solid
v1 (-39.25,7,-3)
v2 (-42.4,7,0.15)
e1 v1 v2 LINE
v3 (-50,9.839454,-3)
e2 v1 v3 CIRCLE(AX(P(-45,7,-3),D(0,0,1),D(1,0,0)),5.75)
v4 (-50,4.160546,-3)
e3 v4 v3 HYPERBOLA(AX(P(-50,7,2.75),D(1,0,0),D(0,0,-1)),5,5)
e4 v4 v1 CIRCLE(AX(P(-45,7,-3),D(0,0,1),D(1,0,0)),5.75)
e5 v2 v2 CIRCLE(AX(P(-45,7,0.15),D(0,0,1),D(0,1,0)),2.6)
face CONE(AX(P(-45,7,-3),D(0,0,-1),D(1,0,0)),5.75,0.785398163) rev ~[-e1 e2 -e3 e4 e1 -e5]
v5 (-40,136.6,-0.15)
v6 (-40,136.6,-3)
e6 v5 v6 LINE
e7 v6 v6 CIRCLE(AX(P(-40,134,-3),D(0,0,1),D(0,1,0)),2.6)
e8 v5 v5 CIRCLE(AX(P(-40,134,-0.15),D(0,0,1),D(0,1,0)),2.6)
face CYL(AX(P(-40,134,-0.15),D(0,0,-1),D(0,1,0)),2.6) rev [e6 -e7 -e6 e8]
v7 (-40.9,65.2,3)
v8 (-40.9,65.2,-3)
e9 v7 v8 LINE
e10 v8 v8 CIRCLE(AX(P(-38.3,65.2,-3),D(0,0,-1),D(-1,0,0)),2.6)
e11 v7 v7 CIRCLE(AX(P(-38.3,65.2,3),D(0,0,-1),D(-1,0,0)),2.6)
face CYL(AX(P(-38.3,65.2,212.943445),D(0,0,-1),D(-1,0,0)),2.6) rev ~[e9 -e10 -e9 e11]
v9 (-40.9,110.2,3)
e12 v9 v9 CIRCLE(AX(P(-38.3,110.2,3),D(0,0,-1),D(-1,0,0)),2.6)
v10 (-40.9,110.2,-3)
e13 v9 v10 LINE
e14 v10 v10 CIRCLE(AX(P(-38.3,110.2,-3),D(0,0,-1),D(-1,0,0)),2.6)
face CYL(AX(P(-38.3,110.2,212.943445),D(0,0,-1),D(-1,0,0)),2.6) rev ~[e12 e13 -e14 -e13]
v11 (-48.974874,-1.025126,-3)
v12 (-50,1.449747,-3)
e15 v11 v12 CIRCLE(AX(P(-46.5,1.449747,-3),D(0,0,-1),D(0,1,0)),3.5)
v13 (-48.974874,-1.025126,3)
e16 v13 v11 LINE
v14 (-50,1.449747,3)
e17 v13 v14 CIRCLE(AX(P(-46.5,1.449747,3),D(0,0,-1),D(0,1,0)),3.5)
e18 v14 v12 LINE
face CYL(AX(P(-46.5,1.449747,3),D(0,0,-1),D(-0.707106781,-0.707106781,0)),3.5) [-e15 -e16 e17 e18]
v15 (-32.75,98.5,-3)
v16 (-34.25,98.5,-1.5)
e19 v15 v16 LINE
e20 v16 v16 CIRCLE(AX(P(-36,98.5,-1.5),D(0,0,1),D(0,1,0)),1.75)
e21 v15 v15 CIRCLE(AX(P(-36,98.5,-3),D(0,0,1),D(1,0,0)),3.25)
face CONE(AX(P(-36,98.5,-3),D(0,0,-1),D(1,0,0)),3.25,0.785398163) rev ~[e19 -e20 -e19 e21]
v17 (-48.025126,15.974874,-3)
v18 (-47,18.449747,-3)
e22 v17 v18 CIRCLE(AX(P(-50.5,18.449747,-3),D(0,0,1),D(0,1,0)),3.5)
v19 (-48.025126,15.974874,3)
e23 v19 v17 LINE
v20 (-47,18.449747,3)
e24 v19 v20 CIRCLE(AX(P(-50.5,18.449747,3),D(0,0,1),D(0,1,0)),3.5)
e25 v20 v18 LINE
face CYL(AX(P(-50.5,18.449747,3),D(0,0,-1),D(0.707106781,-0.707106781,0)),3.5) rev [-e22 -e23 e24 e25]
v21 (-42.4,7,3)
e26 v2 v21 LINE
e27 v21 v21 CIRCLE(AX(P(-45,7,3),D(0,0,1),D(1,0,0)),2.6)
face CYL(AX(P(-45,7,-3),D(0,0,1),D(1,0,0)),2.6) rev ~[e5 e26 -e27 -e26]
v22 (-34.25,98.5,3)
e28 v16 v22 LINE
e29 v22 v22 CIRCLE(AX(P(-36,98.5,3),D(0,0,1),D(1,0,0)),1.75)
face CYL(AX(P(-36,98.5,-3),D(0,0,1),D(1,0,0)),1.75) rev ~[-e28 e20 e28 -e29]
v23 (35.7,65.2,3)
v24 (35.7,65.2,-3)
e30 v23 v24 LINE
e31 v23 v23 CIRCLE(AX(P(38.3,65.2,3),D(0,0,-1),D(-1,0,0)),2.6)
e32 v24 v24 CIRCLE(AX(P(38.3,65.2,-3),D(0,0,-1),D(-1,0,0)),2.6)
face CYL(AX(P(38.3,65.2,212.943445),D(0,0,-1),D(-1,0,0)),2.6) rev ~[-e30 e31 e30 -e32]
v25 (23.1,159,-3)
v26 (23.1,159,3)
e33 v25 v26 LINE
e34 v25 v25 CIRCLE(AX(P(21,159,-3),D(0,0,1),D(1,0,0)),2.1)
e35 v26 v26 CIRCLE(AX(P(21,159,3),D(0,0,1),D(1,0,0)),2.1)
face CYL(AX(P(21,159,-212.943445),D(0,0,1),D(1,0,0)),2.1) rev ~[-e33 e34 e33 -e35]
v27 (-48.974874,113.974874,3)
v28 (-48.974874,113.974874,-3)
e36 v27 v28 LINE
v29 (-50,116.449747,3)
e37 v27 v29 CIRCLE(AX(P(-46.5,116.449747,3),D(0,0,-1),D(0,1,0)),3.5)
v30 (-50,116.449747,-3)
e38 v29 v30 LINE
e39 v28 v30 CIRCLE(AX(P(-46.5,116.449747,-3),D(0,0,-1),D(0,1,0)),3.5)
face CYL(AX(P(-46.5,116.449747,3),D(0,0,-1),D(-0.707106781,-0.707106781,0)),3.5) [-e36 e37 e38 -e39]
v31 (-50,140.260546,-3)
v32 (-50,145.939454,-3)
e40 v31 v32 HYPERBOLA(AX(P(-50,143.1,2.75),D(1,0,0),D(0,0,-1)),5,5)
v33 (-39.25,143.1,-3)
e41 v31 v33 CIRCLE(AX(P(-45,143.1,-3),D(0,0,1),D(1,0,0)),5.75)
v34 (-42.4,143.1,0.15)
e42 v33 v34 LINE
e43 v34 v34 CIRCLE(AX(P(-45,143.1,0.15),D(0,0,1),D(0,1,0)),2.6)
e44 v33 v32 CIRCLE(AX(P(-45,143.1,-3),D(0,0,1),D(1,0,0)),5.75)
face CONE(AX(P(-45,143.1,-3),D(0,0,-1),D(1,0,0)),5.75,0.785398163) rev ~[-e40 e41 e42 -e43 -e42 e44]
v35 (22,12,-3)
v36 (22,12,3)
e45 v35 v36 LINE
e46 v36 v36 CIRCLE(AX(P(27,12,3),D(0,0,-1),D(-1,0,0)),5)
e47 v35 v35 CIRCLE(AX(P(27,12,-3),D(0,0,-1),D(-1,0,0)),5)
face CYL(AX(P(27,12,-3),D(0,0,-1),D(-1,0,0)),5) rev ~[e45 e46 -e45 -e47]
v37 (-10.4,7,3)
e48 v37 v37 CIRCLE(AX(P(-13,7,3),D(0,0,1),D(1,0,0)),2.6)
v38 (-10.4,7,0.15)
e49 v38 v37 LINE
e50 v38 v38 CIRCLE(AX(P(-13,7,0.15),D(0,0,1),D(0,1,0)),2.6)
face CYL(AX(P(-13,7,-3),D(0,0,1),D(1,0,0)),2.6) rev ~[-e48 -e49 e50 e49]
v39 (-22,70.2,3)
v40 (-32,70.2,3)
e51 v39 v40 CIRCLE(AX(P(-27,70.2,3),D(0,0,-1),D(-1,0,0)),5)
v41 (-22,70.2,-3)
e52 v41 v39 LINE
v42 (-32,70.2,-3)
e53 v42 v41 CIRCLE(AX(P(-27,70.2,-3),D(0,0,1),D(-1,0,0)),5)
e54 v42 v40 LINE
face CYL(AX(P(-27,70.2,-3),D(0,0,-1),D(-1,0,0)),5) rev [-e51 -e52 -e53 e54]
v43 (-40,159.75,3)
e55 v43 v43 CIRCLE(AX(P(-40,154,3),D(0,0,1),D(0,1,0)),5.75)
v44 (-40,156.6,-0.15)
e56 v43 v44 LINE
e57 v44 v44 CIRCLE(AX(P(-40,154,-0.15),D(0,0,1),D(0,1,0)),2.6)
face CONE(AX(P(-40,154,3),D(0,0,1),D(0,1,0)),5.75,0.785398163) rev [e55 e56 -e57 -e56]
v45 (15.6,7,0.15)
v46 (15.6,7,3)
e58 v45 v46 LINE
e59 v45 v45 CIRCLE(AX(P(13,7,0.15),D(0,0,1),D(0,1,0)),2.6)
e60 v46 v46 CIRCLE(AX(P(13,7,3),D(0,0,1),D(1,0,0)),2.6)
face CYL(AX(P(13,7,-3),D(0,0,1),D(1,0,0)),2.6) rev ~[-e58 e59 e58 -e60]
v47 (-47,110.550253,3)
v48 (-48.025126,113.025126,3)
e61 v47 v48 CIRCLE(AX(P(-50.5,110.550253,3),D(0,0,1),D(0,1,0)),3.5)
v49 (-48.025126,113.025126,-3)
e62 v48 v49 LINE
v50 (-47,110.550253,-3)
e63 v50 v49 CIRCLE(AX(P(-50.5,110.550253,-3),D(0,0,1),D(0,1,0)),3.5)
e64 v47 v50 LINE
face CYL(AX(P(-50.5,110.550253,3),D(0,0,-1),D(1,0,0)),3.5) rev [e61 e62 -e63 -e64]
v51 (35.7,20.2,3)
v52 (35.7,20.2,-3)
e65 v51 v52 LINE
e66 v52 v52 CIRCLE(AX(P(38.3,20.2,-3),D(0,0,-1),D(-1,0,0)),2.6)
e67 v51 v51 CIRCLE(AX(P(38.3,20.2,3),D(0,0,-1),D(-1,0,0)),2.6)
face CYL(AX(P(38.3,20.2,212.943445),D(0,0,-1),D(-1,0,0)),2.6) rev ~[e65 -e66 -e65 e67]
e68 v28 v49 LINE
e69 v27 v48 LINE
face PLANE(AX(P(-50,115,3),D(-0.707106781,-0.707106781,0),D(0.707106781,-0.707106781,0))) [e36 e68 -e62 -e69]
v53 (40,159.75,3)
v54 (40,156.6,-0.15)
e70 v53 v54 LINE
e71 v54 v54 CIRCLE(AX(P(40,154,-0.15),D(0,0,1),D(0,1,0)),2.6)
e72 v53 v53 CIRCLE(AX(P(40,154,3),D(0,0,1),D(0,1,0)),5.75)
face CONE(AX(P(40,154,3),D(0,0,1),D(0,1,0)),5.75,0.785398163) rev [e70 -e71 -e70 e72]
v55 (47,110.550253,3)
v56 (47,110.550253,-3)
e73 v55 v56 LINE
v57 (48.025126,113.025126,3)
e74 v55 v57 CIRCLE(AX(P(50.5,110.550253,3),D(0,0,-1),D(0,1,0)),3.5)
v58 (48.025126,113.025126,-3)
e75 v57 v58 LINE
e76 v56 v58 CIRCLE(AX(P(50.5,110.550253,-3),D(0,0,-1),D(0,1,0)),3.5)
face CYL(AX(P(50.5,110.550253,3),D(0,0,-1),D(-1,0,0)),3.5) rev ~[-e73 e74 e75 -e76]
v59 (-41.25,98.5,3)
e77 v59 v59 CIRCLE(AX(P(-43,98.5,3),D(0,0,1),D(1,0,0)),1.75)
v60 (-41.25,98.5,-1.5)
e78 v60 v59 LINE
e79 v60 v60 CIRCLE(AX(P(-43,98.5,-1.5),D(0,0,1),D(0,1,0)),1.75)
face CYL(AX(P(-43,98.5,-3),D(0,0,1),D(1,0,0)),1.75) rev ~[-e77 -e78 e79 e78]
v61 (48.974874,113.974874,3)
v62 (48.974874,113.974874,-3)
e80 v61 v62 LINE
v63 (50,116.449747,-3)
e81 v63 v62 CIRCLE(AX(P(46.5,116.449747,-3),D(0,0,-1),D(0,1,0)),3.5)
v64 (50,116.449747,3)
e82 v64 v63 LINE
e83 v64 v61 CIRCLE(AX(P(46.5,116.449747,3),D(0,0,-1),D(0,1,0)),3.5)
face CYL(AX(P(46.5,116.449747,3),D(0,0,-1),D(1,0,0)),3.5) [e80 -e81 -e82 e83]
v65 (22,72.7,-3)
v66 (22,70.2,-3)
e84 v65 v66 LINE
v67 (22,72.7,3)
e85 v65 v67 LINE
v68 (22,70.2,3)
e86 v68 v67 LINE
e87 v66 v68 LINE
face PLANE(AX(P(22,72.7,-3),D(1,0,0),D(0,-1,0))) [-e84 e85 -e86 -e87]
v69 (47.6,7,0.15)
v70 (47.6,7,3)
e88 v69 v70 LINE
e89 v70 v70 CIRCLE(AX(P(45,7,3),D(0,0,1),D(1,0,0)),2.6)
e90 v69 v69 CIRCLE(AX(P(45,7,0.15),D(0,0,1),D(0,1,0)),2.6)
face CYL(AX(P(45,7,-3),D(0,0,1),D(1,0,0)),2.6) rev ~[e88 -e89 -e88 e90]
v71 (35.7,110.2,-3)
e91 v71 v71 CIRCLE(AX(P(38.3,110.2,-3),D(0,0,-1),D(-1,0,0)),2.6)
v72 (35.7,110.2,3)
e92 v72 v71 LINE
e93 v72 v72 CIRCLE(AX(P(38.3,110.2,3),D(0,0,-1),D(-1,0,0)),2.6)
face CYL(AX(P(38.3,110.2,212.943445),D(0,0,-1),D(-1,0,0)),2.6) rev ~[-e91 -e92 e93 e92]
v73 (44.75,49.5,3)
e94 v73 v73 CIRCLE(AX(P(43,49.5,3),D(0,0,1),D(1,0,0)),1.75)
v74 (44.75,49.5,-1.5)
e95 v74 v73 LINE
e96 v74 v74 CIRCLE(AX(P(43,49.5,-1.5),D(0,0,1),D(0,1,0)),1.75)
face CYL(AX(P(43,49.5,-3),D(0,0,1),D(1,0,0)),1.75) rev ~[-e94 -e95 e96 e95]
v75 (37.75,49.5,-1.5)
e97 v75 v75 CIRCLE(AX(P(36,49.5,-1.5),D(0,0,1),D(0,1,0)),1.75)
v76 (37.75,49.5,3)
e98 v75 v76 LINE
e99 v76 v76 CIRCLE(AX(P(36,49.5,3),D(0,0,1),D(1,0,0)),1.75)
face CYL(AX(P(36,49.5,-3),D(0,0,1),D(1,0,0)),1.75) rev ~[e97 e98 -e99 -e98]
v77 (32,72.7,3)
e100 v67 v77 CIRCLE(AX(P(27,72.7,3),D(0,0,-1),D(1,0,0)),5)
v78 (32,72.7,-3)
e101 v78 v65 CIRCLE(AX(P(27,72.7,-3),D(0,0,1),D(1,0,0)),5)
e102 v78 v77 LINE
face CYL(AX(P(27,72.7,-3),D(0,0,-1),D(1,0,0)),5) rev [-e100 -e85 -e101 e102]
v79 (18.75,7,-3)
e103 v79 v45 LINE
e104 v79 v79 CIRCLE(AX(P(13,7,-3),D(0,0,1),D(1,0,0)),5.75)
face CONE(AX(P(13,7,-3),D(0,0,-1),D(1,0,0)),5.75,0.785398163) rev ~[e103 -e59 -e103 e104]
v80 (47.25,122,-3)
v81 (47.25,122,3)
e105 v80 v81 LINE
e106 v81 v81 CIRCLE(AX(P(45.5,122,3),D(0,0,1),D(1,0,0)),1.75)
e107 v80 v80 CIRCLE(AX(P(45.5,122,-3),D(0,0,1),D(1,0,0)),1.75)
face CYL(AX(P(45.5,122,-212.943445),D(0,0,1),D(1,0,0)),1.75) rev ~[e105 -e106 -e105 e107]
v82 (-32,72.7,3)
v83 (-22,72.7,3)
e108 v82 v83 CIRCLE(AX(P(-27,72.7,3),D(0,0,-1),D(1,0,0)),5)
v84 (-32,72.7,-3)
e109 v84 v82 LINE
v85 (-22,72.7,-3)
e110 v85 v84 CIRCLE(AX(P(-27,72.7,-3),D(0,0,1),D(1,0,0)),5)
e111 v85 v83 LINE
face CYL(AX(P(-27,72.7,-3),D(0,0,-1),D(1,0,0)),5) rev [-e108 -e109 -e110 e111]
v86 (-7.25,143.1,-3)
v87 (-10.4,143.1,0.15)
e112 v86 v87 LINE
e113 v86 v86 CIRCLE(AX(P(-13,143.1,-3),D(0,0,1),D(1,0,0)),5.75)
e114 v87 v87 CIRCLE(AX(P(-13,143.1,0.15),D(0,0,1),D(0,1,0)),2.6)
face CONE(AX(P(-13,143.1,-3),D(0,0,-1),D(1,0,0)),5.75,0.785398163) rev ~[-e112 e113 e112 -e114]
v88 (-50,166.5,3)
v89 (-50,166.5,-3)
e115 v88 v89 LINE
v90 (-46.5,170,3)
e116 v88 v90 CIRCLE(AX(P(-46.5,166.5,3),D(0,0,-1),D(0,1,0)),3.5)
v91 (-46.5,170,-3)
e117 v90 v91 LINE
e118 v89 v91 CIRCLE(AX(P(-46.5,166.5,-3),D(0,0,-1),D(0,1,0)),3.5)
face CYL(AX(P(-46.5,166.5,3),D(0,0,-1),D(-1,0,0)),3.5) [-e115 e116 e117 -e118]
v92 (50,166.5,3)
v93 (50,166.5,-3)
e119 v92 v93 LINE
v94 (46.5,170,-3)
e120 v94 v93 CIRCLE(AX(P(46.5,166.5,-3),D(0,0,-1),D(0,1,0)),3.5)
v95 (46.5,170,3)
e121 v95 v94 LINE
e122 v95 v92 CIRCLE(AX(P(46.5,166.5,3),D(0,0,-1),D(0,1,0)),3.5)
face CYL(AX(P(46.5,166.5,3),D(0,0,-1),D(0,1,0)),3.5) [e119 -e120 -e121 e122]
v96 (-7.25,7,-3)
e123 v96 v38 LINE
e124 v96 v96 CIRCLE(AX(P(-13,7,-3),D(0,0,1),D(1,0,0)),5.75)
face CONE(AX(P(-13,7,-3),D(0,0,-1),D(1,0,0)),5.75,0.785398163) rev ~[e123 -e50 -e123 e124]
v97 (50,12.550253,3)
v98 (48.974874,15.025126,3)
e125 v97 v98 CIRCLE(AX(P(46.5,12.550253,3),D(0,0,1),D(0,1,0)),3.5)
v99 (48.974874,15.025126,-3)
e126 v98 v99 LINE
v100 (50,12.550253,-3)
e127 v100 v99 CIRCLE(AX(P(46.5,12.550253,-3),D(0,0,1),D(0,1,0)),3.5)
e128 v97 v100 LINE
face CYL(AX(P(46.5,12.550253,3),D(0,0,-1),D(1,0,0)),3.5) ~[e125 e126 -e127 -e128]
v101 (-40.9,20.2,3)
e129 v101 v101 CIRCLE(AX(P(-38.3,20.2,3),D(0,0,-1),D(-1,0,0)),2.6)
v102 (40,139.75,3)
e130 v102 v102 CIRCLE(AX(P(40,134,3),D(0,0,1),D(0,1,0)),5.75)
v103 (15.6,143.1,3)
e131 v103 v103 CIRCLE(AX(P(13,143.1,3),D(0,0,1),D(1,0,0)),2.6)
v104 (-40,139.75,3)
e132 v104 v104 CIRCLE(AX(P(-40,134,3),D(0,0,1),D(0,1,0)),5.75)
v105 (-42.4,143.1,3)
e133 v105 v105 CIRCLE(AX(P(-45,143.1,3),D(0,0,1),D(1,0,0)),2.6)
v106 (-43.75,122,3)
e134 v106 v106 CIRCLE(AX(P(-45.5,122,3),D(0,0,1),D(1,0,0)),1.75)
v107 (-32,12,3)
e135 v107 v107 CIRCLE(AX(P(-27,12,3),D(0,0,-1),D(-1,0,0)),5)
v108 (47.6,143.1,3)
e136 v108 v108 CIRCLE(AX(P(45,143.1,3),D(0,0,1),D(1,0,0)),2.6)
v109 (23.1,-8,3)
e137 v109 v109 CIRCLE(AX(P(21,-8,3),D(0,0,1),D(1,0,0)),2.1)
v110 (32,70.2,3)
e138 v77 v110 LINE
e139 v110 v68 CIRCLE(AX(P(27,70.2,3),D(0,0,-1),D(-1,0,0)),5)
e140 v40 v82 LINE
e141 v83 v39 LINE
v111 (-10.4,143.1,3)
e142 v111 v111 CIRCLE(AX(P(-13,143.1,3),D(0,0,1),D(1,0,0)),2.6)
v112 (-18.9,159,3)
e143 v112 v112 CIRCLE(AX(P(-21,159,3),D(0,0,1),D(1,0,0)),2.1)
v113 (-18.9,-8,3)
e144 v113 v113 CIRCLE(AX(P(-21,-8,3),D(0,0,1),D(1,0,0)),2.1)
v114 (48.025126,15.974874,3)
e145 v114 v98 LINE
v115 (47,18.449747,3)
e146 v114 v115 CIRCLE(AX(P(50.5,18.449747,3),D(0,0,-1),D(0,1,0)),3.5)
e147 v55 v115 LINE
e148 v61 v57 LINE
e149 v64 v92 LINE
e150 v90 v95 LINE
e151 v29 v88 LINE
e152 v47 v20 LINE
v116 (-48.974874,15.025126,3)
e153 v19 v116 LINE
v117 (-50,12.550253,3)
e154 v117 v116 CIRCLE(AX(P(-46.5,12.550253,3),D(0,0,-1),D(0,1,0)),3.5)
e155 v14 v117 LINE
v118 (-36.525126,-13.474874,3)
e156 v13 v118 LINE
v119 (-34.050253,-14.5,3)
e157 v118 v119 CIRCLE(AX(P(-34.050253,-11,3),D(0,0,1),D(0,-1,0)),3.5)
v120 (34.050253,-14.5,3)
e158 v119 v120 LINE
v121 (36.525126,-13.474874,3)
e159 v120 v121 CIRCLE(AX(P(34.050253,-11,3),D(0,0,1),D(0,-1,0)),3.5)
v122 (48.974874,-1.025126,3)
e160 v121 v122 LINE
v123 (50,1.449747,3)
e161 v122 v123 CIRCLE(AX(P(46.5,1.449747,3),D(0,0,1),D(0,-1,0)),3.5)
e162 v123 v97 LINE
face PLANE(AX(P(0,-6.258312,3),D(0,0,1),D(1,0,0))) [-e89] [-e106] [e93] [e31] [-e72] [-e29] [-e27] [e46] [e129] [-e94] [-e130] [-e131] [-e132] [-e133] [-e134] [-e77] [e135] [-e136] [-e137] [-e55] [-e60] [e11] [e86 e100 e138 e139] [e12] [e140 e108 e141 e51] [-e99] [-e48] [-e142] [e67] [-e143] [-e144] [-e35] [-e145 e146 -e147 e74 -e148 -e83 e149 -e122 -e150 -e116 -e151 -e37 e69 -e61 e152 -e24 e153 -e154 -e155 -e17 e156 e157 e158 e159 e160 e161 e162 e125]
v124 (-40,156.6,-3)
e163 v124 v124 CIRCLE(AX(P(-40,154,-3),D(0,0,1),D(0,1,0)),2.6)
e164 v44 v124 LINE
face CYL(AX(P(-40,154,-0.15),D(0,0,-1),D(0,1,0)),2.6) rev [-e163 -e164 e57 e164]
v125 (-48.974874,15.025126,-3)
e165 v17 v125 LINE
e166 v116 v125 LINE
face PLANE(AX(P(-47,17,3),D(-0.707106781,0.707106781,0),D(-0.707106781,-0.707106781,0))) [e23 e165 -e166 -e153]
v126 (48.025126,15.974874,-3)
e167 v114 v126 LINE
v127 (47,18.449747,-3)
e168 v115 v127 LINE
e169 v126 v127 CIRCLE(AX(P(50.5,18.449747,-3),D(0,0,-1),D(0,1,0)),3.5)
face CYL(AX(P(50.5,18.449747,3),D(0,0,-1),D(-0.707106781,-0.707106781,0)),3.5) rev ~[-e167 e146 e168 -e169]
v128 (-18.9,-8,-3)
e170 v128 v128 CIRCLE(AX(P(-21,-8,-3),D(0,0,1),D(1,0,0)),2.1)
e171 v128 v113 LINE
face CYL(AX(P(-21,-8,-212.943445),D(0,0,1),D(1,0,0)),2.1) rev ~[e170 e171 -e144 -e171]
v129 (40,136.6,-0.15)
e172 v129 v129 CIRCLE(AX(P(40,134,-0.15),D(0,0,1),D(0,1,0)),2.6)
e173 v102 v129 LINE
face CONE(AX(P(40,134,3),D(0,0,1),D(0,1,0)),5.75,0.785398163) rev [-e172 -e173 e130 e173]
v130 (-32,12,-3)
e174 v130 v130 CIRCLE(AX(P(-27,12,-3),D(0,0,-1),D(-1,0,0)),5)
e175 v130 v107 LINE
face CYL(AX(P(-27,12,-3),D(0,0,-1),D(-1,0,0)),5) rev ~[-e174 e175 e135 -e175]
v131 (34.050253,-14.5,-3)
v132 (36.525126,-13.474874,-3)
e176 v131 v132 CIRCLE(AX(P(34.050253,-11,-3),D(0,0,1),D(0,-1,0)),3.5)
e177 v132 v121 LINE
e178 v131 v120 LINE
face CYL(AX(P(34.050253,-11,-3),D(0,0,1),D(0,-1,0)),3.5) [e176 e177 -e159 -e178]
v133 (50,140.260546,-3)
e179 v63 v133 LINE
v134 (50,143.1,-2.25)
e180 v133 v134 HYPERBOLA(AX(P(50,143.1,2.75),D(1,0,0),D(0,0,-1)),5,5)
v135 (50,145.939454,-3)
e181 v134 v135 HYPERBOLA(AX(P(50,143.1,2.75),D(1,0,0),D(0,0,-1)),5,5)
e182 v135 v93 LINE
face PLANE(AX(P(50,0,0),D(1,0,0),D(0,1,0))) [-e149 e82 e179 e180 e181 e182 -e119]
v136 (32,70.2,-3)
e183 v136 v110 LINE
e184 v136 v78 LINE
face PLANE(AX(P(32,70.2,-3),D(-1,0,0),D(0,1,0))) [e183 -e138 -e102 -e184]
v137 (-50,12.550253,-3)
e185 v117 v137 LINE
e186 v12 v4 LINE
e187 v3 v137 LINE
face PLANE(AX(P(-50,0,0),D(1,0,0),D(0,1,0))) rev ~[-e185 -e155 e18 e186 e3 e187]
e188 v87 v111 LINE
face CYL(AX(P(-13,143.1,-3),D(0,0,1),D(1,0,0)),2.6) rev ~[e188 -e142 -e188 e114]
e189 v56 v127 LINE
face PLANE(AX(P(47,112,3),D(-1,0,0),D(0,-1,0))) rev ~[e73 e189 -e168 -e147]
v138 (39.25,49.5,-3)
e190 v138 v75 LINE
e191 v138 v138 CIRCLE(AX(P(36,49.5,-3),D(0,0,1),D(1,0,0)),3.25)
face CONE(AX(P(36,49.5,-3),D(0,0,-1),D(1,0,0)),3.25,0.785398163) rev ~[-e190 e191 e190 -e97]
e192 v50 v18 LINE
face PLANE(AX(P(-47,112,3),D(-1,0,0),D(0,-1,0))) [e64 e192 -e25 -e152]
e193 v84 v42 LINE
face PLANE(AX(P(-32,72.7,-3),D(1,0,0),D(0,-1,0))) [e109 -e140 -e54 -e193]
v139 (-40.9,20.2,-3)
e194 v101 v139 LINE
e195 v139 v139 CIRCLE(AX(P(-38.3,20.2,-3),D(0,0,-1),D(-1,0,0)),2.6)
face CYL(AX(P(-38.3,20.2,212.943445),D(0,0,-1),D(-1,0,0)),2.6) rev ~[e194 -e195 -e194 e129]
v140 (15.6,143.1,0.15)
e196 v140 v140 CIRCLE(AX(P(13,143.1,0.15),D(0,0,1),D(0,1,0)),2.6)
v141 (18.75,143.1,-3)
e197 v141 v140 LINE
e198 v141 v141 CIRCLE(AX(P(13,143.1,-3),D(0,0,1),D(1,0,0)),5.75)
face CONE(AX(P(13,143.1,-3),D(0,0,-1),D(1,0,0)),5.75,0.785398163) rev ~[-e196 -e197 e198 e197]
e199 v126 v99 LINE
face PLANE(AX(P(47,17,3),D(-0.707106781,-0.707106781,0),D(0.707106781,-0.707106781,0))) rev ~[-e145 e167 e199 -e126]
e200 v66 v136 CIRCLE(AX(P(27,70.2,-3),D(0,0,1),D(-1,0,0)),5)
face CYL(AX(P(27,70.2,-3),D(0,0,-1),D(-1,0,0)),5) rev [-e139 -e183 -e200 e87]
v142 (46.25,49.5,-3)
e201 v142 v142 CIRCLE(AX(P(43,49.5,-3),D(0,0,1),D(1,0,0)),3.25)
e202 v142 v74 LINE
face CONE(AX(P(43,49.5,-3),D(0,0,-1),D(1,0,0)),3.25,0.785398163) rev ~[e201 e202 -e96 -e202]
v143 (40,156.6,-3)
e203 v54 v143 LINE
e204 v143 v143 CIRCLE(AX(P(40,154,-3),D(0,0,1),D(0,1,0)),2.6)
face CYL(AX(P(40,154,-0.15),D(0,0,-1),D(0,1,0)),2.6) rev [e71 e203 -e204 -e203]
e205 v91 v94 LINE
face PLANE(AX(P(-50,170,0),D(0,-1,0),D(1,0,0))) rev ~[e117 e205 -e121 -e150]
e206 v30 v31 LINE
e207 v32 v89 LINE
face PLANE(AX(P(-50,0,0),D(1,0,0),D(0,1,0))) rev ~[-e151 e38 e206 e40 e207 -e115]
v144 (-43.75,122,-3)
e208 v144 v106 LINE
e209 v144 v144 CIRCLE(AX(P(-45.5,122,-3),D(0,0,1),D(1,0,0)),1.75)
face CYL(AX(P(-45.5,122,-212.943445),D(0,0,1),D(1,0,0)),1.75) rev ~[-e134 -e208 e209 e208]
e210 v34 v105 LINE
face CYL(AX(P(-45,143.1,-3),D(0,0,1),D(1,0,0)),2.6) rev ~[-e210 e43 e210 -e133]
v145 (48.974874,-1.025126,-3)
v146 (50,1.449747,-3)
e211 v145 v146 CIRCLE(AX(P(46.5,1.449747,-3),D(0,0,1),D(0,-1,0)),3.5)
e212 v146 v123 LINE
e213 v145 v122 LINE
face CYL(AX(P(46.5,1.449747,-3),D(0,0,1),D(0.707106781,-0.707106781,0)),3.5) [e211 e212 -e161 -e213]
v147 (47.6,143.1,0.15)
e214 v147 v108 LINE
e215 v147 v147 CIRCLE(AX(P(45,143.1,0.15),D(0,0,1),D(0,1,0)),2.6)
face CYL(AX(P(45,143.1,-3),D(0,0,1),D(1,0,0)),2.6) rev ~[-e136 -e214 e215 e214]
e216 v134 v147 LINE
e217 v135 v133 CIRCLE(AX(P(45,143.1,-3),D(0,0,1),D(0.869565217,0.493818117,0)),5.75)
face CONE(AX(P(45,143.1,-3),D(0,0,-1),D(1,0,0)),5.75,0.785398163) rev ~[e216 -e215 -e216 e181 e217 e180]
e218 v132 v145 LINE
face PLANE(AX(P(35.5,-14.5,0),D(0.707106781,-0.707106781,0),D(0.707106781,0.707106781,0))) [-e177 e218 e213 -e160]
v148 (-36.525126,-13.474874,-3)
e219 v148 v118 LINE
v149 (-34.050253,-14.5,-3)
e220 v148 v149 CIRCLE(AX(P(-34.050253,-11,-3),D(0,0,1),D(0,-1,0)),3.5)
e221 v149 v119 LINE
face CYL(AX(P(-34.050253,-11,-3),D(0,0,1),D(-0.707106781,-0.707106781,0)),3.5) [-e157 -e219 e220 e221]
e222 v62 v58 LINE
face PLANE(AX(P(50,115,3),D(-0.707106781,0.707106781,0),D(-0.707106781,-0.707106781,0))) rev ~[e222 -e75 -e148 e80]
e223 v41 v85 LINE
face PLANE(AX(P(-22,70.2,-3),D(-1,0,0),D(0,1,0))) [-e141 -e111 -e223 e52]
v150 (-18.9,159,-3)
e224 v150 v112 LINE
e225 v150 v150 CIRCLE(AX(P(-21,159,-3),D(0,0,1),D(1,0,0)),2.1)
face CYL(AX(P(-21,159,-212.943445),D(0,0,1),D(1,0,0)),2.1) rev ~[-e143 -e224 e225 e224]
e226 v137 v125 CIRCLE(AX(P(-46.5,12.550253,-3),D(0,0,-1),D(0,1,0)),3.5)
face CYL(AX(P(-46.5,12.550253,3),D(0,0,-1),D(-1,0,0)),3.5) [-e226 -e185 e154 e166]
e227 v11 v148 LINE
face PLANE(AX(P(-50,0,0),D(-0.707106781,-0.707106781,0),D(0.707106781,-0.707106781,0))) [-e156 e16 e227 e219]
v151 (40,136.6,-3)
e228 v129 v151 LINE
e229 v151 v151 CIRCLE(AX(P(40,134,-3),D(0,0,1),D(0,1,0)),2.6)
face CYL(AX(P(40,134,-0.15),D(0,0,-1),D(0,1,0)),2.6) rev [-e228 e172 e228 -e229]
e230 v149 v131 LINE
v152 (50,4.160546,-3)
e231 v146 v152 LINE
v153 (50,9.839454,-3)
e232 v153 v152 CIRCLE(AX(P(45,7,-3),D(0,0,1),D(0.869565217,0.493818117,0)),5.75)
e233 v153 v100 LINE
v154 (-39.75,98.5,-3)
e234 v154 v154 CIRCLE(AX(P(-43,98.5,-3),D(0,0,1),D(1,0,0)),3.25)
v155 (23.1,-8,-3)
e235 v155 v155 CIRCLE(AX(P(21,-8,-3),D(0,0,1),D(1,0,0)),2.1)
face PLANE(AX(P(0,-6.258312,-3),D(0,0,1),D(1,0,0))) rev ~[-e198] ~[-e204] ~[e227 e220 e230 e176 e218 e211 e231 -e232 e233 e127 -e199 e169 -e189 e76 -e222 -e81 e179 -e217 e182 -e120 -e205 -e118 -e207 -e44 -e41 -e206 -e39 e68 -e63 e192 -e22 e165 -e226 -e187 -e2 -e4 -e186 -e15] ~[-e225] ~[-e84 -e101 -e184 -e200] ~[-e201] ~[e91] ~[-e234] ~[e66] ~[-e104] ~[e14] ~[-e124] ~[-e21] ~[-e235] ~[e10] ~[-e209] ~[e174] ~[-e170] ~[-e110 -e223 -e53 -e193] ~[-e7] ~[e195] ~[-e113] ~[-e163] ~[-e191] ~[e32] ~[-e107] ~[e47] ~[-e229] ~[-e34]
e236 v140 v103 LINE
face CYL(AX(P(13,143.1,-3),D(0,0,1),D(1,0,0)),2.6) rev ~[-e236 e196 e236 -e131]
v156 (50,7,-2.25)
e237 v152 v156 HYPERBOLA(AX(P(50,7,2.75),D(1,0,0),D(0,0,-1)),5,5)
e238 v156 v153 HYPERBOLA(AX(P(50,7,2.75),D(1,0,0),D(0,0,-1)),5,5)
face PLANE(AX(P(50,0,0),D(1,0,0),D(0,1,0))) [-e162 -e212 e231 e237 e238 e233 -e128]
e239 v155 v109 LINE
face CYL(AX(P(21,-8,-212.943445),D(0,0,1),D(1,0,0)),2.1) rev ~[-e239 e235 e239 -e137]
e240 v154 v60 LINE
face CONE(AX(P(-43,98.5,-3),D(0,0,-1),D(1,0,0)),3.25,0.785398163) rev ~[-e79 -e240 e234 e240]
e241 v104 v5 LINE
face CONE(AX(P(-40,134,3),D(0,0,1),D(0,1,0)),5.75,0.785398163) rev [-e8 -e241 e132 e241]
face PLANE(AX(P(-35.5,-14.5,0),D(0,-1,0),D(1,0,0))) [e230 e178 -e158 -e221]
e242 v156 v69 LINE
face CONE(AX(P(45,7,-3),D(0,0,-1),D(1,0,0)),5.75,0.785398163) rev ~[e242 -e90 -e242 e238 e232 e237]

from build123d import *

# Parameters (mm, degrees)
SKETCH1_W                                  = 100
SKETCH1_H                                  = 170
BODY_DEPTH                                 = 3
REDUCESOMEWIDTH_DEPTH                      = 7
SCREWHEADHOLECARRIAGEY_R                   = 5
CUTFOROTHERSCREWSHEADS_DEPTH               = 7
ENDMILLMINIMUMRADIUS_R                     = 3.5
F_3_5_3_5_CABLETIEHOLES_D                  = 3.5
F_4_2_4_2_KP8_HOLES1_D                     = 4.2
F_4_2_4_2_KP8_HOLES2_D                     = 4.2
F_5_2_5_2_MOUNTANGLECORNERHOLES_AT_2_COUNT = 2
F_5_2_5_2_MOUNTANGLECORNERHOLES_AT_2_PITCH = 20
F_5_2_5_2_MOUNTANGLECORNERHOLES_AT_3_COUNT = 2
F_5_2_5_2_MOUNTANGLECORNERHOLES_AT_3_PITCH = 80
F_5_2_5_2_MOUNTANGLECORNERHOLES_AT_4_COUNT = 2
F_5_2_5_2_MOUNTANGLECORNERHOLES_AT_4_PITCH = 82.462112512
F_5_2_5_2_SK8_MOUNT_HOLES_D                = 5.2
F_5_2_5_2_SK8_MOUNT_HOLES_CSINK_D          = 11.5
F_5_2_5_2_SK8_MOUNT_HOLES_CSINK_ANGLE      = 90
F_3_5_3_5_ENDSENSORSHOLES_D                = 3.5
F_3_5_3_5_ENDSENSORSHOLES_CSINK_D          = 6.5
F_3_5_3_5_ENDSENSORSHOLES_CSINK_ANGLE      = 90
F_5_2_5_2_MOUNTTOBASEHOLES_D               = 5.2


with BuildPart() as part:
    # Sketch1 → Body (new body, symmetric)
    with BuildSketch(Plane.XY):
        Polygon((50, 0), (-50, 0), (-35.5, -14.5), (35.5, -14.5), align=None)
        with Locations((0, 85)):
            Rectangle(SKETCH1_W, SKETCH1_H)
    extrude(amount=BODY_DEPTH, both=True)

    # Sketch6 → ReduceSomeWidth (cut, through all)
    with BuildSketch(Plane.XY.offset(3)):
        Polygon((-50, 115), (-47, 112), (-47, 17), (-50, 14), align=None)
        Polygon((50, 115), (47, 112), (47, 17), (50, 14), align=None)
    extrude(amount=-REDUCESOMEWIDTH_DEPTH, mode=Mode.SUBTRACT)

    # screwHeadHoleCarriageY → CutForOtherScrewsHeads (cut, through all)
    with BuildSketch(Plane(origin=(0, 0, -3), x_dir=(-1, 0, 0), z_dir=(0, 0, -1))):
        with Locations((-27, 12)):
            Circle(SCREWHEADHOLECARRIAGEY_R)
        with Locations((27, 12)):
            Circle(SCREWHEADHOLECARRIAGEY_R)
        with BuildLine():
            Line((-32, 70.2), (-32, 72.7))
            ThreePointArc((-32, 72.7), (-27, 77.7), (-22, 72.7))
            Line((-22, 72.7), (-22, 70.2))
            ThreePointArc((-22, 70.2), (-27, 65.2), (-32, 70.2))
        make_face()
        with BuildLine():
            Line((22, 70.2), (22, 72.7))
            ThreePointArc((22, 72.7), (27, 77.7), (32, 72.7))
            Line((32, 72.7), (32, 70.2))
            ThreePointArc((32, 70.2), (27, 65.2), (22, 70.2))
        make_face()
    extrude(amount=-CUTFOROTHERSCREWSHEADS_DEPTH, mode=Mode.SUBTRACT)

    # EndMillMinimumRadius
    endmillminimumradius_edges = [part.edges().sort_by_distance(p)[0] for p in [
        (50, 170, 0),
        (50, 0, 0),
        (35.5, -14.5, 0),
        (-35.5, -14.5, 0),
        (-50, 0, 0),
        (-50, 170, 0),
        (-50, 14, 0),
        (-50, 115, 0),
        (-47, 112, 0),
        (-47, 17, 0),
        (50, 115, 0),
        (50, 14, 0),
        (47, 17, 0),
        (47, 112, 0),
    ]]
    fillet(endmillminimumradius_edges, radius=ENDMILLMINIMUMRADIUS_R)

    # Ø3.5 (3.5) CableTieHoles (through all)
    with Locations(Plane(origin=(0, 0, -3), x_dir=(-1, 0, 0), z_dir=(0, 0, -1))):
        with Locations((-45.5, 122), (45.5, 122)):
            Hole(F_3_5_3_5_CABLETIEHOLES_D / 2)

    # Ø4.2 (4.2) KP8 Holes1 (through all)
    with Locations(Plane(origin=(0, 0, -3), x_dir=(-1, 0, 0), z_dir=(0, 0, -1))):
        with Locations((-21, 159), (21, 159)):
            Hole(F_4_2_4_2_KP8_HOLES1_D / 2)

    # Ø4.2 (4.2) KP8 Holes2 (through all)
    with Locations(Plane(origin=(0, 0, -3), x_dir=(-1, 0, 0), z_dir=(0, 0, -1))):
        with Locations((-21, -8), (21, -8)):
            Hole(F_4_2_4_2_KP8_HOLES2_D / 2)

    # Sketch16 → Ø5.2 (5.2) MountAngleCornerHoles (revolve, cut)
    with BuildSketch(Plane(origin=(40, 154, -3), x_dir=(0, 1, 0), z_dir=(1, 0, 0))):
        Polygon((0, 0), (0, 6), (5.75, 6), (2.6, 2.85), (2.6, 0), align=None)
    f_5_2_5_2_mountanglecornerholes = revolve(axis=Axis((40, 154, -9.35), (0, 0, 1)), mode=Mode.SUBTRACT)

    # Ø5.2 (5.2) MountAngleCornerHoles at 2: Ø5.2 (5.2) MountAngleCornerHoles ×2
    with Locations(*[(0, -i * F_5_2_5_2_MOUNTANGLECORNERHOLES_AT_2_PITCH, 0) for i in range(1, F_5_2_5_2_MOUNTANGLECORNERHOLES_AT_2_COUNT)]):
        add(f_5_2_5_2_mountanglecornerholes, mode=Mode.SUBTRACT)

    # Ø5.2 (5.2) MountAngleCornerHoles at 3: Ø5.2 (5.2) MountAngleCornerHoles ×2
    with Locations(*[(-i * F_5_2_5_2_MOUNTANGLECORNERHOLES_AT_3_PITCH, 0, 0) for i in range(1, F_5_2_5_2_MOUNTANGLECORNERHOLES_AT_3_COUNT)]):
        add(f_5_2_5_2_mountanglecornerholes, mode=Mode.SUBTRACT)

    # Ø5.2 (5.2) MountAngleCornerHoles at 4: Ø5.2 (5.2) MountAngleCornerHoles ×2
    with Locations(*[Vector(-0.9701425, -0.242535625, 0) * (i * F_5_2_5_2_MOUNTANGLECORNERHOLES_AT_4_PITCH) for i in range(1, F_5_2_5_2_MOUNTANGLECORNERHOLES_AT_4_COUNT)]):
        add(f_5_2_5_2_mountanglecornerholes, mode=Mode.SUBTRACT)

    # Ø5.2 (5.2) SK8 Mount Holes (through all)
    with Locations(Plane(origin=(0, 0, -3), x_dir=(-1, 0, 0), z_dir=(0, 0, -1))):
        with Locations((-45, 143.1), (-13, 143.1), (13, 143.1), (45, 143.1), (-45, 7), (-13, 7), (13, 7), (45, 7)):
            CounterSinkHole(F_5_2_5_2_SK8_MOUNT_HOLES_D / 2, F_5_2_5_2_SK8_MOUNT_HOLES_CSINK_D / 2, counter_sink_angle=F_5_2_5_2_SK8_MOUNT_HOLES_CSINK_ANGLE)

    # Ø3.5 (3.5) EndSensorsHoles (through all)
    with Locations(Plane(origin=(0, 0, -3), x_dir=(-1, 0, 0), z_dir=(0, 0, -1))):
        with Locations((-43, 49.5), (-36, 49.5), (36, 98.5), (43, 98.5)):
            CounterSinkHole(F_3_5_3_5_ENDSENSORSHOLES_D / 2, F_3_5_3_5_ENDSENSORSHOLES_CSINK_D / 2, counter_sink_angle=F_3_5_3_5_ENDSENSORSHOLES_CSINK_ANGLE)

    # Ø5.2 (5.2) MountToBaseHoles (through all)
    with Locations(Plane.XY.offset(3)):
        with Locations((-38.3, 110.2), (-38.3, 65.2), (-38.3, 20.2), (38.3, 20.2), (38.3, 65.2), (38.3, 110.2)):
            Hole(F_5_2_5_2_MOUNTTOBASEHOLES_D / 2)


solid = part.part
